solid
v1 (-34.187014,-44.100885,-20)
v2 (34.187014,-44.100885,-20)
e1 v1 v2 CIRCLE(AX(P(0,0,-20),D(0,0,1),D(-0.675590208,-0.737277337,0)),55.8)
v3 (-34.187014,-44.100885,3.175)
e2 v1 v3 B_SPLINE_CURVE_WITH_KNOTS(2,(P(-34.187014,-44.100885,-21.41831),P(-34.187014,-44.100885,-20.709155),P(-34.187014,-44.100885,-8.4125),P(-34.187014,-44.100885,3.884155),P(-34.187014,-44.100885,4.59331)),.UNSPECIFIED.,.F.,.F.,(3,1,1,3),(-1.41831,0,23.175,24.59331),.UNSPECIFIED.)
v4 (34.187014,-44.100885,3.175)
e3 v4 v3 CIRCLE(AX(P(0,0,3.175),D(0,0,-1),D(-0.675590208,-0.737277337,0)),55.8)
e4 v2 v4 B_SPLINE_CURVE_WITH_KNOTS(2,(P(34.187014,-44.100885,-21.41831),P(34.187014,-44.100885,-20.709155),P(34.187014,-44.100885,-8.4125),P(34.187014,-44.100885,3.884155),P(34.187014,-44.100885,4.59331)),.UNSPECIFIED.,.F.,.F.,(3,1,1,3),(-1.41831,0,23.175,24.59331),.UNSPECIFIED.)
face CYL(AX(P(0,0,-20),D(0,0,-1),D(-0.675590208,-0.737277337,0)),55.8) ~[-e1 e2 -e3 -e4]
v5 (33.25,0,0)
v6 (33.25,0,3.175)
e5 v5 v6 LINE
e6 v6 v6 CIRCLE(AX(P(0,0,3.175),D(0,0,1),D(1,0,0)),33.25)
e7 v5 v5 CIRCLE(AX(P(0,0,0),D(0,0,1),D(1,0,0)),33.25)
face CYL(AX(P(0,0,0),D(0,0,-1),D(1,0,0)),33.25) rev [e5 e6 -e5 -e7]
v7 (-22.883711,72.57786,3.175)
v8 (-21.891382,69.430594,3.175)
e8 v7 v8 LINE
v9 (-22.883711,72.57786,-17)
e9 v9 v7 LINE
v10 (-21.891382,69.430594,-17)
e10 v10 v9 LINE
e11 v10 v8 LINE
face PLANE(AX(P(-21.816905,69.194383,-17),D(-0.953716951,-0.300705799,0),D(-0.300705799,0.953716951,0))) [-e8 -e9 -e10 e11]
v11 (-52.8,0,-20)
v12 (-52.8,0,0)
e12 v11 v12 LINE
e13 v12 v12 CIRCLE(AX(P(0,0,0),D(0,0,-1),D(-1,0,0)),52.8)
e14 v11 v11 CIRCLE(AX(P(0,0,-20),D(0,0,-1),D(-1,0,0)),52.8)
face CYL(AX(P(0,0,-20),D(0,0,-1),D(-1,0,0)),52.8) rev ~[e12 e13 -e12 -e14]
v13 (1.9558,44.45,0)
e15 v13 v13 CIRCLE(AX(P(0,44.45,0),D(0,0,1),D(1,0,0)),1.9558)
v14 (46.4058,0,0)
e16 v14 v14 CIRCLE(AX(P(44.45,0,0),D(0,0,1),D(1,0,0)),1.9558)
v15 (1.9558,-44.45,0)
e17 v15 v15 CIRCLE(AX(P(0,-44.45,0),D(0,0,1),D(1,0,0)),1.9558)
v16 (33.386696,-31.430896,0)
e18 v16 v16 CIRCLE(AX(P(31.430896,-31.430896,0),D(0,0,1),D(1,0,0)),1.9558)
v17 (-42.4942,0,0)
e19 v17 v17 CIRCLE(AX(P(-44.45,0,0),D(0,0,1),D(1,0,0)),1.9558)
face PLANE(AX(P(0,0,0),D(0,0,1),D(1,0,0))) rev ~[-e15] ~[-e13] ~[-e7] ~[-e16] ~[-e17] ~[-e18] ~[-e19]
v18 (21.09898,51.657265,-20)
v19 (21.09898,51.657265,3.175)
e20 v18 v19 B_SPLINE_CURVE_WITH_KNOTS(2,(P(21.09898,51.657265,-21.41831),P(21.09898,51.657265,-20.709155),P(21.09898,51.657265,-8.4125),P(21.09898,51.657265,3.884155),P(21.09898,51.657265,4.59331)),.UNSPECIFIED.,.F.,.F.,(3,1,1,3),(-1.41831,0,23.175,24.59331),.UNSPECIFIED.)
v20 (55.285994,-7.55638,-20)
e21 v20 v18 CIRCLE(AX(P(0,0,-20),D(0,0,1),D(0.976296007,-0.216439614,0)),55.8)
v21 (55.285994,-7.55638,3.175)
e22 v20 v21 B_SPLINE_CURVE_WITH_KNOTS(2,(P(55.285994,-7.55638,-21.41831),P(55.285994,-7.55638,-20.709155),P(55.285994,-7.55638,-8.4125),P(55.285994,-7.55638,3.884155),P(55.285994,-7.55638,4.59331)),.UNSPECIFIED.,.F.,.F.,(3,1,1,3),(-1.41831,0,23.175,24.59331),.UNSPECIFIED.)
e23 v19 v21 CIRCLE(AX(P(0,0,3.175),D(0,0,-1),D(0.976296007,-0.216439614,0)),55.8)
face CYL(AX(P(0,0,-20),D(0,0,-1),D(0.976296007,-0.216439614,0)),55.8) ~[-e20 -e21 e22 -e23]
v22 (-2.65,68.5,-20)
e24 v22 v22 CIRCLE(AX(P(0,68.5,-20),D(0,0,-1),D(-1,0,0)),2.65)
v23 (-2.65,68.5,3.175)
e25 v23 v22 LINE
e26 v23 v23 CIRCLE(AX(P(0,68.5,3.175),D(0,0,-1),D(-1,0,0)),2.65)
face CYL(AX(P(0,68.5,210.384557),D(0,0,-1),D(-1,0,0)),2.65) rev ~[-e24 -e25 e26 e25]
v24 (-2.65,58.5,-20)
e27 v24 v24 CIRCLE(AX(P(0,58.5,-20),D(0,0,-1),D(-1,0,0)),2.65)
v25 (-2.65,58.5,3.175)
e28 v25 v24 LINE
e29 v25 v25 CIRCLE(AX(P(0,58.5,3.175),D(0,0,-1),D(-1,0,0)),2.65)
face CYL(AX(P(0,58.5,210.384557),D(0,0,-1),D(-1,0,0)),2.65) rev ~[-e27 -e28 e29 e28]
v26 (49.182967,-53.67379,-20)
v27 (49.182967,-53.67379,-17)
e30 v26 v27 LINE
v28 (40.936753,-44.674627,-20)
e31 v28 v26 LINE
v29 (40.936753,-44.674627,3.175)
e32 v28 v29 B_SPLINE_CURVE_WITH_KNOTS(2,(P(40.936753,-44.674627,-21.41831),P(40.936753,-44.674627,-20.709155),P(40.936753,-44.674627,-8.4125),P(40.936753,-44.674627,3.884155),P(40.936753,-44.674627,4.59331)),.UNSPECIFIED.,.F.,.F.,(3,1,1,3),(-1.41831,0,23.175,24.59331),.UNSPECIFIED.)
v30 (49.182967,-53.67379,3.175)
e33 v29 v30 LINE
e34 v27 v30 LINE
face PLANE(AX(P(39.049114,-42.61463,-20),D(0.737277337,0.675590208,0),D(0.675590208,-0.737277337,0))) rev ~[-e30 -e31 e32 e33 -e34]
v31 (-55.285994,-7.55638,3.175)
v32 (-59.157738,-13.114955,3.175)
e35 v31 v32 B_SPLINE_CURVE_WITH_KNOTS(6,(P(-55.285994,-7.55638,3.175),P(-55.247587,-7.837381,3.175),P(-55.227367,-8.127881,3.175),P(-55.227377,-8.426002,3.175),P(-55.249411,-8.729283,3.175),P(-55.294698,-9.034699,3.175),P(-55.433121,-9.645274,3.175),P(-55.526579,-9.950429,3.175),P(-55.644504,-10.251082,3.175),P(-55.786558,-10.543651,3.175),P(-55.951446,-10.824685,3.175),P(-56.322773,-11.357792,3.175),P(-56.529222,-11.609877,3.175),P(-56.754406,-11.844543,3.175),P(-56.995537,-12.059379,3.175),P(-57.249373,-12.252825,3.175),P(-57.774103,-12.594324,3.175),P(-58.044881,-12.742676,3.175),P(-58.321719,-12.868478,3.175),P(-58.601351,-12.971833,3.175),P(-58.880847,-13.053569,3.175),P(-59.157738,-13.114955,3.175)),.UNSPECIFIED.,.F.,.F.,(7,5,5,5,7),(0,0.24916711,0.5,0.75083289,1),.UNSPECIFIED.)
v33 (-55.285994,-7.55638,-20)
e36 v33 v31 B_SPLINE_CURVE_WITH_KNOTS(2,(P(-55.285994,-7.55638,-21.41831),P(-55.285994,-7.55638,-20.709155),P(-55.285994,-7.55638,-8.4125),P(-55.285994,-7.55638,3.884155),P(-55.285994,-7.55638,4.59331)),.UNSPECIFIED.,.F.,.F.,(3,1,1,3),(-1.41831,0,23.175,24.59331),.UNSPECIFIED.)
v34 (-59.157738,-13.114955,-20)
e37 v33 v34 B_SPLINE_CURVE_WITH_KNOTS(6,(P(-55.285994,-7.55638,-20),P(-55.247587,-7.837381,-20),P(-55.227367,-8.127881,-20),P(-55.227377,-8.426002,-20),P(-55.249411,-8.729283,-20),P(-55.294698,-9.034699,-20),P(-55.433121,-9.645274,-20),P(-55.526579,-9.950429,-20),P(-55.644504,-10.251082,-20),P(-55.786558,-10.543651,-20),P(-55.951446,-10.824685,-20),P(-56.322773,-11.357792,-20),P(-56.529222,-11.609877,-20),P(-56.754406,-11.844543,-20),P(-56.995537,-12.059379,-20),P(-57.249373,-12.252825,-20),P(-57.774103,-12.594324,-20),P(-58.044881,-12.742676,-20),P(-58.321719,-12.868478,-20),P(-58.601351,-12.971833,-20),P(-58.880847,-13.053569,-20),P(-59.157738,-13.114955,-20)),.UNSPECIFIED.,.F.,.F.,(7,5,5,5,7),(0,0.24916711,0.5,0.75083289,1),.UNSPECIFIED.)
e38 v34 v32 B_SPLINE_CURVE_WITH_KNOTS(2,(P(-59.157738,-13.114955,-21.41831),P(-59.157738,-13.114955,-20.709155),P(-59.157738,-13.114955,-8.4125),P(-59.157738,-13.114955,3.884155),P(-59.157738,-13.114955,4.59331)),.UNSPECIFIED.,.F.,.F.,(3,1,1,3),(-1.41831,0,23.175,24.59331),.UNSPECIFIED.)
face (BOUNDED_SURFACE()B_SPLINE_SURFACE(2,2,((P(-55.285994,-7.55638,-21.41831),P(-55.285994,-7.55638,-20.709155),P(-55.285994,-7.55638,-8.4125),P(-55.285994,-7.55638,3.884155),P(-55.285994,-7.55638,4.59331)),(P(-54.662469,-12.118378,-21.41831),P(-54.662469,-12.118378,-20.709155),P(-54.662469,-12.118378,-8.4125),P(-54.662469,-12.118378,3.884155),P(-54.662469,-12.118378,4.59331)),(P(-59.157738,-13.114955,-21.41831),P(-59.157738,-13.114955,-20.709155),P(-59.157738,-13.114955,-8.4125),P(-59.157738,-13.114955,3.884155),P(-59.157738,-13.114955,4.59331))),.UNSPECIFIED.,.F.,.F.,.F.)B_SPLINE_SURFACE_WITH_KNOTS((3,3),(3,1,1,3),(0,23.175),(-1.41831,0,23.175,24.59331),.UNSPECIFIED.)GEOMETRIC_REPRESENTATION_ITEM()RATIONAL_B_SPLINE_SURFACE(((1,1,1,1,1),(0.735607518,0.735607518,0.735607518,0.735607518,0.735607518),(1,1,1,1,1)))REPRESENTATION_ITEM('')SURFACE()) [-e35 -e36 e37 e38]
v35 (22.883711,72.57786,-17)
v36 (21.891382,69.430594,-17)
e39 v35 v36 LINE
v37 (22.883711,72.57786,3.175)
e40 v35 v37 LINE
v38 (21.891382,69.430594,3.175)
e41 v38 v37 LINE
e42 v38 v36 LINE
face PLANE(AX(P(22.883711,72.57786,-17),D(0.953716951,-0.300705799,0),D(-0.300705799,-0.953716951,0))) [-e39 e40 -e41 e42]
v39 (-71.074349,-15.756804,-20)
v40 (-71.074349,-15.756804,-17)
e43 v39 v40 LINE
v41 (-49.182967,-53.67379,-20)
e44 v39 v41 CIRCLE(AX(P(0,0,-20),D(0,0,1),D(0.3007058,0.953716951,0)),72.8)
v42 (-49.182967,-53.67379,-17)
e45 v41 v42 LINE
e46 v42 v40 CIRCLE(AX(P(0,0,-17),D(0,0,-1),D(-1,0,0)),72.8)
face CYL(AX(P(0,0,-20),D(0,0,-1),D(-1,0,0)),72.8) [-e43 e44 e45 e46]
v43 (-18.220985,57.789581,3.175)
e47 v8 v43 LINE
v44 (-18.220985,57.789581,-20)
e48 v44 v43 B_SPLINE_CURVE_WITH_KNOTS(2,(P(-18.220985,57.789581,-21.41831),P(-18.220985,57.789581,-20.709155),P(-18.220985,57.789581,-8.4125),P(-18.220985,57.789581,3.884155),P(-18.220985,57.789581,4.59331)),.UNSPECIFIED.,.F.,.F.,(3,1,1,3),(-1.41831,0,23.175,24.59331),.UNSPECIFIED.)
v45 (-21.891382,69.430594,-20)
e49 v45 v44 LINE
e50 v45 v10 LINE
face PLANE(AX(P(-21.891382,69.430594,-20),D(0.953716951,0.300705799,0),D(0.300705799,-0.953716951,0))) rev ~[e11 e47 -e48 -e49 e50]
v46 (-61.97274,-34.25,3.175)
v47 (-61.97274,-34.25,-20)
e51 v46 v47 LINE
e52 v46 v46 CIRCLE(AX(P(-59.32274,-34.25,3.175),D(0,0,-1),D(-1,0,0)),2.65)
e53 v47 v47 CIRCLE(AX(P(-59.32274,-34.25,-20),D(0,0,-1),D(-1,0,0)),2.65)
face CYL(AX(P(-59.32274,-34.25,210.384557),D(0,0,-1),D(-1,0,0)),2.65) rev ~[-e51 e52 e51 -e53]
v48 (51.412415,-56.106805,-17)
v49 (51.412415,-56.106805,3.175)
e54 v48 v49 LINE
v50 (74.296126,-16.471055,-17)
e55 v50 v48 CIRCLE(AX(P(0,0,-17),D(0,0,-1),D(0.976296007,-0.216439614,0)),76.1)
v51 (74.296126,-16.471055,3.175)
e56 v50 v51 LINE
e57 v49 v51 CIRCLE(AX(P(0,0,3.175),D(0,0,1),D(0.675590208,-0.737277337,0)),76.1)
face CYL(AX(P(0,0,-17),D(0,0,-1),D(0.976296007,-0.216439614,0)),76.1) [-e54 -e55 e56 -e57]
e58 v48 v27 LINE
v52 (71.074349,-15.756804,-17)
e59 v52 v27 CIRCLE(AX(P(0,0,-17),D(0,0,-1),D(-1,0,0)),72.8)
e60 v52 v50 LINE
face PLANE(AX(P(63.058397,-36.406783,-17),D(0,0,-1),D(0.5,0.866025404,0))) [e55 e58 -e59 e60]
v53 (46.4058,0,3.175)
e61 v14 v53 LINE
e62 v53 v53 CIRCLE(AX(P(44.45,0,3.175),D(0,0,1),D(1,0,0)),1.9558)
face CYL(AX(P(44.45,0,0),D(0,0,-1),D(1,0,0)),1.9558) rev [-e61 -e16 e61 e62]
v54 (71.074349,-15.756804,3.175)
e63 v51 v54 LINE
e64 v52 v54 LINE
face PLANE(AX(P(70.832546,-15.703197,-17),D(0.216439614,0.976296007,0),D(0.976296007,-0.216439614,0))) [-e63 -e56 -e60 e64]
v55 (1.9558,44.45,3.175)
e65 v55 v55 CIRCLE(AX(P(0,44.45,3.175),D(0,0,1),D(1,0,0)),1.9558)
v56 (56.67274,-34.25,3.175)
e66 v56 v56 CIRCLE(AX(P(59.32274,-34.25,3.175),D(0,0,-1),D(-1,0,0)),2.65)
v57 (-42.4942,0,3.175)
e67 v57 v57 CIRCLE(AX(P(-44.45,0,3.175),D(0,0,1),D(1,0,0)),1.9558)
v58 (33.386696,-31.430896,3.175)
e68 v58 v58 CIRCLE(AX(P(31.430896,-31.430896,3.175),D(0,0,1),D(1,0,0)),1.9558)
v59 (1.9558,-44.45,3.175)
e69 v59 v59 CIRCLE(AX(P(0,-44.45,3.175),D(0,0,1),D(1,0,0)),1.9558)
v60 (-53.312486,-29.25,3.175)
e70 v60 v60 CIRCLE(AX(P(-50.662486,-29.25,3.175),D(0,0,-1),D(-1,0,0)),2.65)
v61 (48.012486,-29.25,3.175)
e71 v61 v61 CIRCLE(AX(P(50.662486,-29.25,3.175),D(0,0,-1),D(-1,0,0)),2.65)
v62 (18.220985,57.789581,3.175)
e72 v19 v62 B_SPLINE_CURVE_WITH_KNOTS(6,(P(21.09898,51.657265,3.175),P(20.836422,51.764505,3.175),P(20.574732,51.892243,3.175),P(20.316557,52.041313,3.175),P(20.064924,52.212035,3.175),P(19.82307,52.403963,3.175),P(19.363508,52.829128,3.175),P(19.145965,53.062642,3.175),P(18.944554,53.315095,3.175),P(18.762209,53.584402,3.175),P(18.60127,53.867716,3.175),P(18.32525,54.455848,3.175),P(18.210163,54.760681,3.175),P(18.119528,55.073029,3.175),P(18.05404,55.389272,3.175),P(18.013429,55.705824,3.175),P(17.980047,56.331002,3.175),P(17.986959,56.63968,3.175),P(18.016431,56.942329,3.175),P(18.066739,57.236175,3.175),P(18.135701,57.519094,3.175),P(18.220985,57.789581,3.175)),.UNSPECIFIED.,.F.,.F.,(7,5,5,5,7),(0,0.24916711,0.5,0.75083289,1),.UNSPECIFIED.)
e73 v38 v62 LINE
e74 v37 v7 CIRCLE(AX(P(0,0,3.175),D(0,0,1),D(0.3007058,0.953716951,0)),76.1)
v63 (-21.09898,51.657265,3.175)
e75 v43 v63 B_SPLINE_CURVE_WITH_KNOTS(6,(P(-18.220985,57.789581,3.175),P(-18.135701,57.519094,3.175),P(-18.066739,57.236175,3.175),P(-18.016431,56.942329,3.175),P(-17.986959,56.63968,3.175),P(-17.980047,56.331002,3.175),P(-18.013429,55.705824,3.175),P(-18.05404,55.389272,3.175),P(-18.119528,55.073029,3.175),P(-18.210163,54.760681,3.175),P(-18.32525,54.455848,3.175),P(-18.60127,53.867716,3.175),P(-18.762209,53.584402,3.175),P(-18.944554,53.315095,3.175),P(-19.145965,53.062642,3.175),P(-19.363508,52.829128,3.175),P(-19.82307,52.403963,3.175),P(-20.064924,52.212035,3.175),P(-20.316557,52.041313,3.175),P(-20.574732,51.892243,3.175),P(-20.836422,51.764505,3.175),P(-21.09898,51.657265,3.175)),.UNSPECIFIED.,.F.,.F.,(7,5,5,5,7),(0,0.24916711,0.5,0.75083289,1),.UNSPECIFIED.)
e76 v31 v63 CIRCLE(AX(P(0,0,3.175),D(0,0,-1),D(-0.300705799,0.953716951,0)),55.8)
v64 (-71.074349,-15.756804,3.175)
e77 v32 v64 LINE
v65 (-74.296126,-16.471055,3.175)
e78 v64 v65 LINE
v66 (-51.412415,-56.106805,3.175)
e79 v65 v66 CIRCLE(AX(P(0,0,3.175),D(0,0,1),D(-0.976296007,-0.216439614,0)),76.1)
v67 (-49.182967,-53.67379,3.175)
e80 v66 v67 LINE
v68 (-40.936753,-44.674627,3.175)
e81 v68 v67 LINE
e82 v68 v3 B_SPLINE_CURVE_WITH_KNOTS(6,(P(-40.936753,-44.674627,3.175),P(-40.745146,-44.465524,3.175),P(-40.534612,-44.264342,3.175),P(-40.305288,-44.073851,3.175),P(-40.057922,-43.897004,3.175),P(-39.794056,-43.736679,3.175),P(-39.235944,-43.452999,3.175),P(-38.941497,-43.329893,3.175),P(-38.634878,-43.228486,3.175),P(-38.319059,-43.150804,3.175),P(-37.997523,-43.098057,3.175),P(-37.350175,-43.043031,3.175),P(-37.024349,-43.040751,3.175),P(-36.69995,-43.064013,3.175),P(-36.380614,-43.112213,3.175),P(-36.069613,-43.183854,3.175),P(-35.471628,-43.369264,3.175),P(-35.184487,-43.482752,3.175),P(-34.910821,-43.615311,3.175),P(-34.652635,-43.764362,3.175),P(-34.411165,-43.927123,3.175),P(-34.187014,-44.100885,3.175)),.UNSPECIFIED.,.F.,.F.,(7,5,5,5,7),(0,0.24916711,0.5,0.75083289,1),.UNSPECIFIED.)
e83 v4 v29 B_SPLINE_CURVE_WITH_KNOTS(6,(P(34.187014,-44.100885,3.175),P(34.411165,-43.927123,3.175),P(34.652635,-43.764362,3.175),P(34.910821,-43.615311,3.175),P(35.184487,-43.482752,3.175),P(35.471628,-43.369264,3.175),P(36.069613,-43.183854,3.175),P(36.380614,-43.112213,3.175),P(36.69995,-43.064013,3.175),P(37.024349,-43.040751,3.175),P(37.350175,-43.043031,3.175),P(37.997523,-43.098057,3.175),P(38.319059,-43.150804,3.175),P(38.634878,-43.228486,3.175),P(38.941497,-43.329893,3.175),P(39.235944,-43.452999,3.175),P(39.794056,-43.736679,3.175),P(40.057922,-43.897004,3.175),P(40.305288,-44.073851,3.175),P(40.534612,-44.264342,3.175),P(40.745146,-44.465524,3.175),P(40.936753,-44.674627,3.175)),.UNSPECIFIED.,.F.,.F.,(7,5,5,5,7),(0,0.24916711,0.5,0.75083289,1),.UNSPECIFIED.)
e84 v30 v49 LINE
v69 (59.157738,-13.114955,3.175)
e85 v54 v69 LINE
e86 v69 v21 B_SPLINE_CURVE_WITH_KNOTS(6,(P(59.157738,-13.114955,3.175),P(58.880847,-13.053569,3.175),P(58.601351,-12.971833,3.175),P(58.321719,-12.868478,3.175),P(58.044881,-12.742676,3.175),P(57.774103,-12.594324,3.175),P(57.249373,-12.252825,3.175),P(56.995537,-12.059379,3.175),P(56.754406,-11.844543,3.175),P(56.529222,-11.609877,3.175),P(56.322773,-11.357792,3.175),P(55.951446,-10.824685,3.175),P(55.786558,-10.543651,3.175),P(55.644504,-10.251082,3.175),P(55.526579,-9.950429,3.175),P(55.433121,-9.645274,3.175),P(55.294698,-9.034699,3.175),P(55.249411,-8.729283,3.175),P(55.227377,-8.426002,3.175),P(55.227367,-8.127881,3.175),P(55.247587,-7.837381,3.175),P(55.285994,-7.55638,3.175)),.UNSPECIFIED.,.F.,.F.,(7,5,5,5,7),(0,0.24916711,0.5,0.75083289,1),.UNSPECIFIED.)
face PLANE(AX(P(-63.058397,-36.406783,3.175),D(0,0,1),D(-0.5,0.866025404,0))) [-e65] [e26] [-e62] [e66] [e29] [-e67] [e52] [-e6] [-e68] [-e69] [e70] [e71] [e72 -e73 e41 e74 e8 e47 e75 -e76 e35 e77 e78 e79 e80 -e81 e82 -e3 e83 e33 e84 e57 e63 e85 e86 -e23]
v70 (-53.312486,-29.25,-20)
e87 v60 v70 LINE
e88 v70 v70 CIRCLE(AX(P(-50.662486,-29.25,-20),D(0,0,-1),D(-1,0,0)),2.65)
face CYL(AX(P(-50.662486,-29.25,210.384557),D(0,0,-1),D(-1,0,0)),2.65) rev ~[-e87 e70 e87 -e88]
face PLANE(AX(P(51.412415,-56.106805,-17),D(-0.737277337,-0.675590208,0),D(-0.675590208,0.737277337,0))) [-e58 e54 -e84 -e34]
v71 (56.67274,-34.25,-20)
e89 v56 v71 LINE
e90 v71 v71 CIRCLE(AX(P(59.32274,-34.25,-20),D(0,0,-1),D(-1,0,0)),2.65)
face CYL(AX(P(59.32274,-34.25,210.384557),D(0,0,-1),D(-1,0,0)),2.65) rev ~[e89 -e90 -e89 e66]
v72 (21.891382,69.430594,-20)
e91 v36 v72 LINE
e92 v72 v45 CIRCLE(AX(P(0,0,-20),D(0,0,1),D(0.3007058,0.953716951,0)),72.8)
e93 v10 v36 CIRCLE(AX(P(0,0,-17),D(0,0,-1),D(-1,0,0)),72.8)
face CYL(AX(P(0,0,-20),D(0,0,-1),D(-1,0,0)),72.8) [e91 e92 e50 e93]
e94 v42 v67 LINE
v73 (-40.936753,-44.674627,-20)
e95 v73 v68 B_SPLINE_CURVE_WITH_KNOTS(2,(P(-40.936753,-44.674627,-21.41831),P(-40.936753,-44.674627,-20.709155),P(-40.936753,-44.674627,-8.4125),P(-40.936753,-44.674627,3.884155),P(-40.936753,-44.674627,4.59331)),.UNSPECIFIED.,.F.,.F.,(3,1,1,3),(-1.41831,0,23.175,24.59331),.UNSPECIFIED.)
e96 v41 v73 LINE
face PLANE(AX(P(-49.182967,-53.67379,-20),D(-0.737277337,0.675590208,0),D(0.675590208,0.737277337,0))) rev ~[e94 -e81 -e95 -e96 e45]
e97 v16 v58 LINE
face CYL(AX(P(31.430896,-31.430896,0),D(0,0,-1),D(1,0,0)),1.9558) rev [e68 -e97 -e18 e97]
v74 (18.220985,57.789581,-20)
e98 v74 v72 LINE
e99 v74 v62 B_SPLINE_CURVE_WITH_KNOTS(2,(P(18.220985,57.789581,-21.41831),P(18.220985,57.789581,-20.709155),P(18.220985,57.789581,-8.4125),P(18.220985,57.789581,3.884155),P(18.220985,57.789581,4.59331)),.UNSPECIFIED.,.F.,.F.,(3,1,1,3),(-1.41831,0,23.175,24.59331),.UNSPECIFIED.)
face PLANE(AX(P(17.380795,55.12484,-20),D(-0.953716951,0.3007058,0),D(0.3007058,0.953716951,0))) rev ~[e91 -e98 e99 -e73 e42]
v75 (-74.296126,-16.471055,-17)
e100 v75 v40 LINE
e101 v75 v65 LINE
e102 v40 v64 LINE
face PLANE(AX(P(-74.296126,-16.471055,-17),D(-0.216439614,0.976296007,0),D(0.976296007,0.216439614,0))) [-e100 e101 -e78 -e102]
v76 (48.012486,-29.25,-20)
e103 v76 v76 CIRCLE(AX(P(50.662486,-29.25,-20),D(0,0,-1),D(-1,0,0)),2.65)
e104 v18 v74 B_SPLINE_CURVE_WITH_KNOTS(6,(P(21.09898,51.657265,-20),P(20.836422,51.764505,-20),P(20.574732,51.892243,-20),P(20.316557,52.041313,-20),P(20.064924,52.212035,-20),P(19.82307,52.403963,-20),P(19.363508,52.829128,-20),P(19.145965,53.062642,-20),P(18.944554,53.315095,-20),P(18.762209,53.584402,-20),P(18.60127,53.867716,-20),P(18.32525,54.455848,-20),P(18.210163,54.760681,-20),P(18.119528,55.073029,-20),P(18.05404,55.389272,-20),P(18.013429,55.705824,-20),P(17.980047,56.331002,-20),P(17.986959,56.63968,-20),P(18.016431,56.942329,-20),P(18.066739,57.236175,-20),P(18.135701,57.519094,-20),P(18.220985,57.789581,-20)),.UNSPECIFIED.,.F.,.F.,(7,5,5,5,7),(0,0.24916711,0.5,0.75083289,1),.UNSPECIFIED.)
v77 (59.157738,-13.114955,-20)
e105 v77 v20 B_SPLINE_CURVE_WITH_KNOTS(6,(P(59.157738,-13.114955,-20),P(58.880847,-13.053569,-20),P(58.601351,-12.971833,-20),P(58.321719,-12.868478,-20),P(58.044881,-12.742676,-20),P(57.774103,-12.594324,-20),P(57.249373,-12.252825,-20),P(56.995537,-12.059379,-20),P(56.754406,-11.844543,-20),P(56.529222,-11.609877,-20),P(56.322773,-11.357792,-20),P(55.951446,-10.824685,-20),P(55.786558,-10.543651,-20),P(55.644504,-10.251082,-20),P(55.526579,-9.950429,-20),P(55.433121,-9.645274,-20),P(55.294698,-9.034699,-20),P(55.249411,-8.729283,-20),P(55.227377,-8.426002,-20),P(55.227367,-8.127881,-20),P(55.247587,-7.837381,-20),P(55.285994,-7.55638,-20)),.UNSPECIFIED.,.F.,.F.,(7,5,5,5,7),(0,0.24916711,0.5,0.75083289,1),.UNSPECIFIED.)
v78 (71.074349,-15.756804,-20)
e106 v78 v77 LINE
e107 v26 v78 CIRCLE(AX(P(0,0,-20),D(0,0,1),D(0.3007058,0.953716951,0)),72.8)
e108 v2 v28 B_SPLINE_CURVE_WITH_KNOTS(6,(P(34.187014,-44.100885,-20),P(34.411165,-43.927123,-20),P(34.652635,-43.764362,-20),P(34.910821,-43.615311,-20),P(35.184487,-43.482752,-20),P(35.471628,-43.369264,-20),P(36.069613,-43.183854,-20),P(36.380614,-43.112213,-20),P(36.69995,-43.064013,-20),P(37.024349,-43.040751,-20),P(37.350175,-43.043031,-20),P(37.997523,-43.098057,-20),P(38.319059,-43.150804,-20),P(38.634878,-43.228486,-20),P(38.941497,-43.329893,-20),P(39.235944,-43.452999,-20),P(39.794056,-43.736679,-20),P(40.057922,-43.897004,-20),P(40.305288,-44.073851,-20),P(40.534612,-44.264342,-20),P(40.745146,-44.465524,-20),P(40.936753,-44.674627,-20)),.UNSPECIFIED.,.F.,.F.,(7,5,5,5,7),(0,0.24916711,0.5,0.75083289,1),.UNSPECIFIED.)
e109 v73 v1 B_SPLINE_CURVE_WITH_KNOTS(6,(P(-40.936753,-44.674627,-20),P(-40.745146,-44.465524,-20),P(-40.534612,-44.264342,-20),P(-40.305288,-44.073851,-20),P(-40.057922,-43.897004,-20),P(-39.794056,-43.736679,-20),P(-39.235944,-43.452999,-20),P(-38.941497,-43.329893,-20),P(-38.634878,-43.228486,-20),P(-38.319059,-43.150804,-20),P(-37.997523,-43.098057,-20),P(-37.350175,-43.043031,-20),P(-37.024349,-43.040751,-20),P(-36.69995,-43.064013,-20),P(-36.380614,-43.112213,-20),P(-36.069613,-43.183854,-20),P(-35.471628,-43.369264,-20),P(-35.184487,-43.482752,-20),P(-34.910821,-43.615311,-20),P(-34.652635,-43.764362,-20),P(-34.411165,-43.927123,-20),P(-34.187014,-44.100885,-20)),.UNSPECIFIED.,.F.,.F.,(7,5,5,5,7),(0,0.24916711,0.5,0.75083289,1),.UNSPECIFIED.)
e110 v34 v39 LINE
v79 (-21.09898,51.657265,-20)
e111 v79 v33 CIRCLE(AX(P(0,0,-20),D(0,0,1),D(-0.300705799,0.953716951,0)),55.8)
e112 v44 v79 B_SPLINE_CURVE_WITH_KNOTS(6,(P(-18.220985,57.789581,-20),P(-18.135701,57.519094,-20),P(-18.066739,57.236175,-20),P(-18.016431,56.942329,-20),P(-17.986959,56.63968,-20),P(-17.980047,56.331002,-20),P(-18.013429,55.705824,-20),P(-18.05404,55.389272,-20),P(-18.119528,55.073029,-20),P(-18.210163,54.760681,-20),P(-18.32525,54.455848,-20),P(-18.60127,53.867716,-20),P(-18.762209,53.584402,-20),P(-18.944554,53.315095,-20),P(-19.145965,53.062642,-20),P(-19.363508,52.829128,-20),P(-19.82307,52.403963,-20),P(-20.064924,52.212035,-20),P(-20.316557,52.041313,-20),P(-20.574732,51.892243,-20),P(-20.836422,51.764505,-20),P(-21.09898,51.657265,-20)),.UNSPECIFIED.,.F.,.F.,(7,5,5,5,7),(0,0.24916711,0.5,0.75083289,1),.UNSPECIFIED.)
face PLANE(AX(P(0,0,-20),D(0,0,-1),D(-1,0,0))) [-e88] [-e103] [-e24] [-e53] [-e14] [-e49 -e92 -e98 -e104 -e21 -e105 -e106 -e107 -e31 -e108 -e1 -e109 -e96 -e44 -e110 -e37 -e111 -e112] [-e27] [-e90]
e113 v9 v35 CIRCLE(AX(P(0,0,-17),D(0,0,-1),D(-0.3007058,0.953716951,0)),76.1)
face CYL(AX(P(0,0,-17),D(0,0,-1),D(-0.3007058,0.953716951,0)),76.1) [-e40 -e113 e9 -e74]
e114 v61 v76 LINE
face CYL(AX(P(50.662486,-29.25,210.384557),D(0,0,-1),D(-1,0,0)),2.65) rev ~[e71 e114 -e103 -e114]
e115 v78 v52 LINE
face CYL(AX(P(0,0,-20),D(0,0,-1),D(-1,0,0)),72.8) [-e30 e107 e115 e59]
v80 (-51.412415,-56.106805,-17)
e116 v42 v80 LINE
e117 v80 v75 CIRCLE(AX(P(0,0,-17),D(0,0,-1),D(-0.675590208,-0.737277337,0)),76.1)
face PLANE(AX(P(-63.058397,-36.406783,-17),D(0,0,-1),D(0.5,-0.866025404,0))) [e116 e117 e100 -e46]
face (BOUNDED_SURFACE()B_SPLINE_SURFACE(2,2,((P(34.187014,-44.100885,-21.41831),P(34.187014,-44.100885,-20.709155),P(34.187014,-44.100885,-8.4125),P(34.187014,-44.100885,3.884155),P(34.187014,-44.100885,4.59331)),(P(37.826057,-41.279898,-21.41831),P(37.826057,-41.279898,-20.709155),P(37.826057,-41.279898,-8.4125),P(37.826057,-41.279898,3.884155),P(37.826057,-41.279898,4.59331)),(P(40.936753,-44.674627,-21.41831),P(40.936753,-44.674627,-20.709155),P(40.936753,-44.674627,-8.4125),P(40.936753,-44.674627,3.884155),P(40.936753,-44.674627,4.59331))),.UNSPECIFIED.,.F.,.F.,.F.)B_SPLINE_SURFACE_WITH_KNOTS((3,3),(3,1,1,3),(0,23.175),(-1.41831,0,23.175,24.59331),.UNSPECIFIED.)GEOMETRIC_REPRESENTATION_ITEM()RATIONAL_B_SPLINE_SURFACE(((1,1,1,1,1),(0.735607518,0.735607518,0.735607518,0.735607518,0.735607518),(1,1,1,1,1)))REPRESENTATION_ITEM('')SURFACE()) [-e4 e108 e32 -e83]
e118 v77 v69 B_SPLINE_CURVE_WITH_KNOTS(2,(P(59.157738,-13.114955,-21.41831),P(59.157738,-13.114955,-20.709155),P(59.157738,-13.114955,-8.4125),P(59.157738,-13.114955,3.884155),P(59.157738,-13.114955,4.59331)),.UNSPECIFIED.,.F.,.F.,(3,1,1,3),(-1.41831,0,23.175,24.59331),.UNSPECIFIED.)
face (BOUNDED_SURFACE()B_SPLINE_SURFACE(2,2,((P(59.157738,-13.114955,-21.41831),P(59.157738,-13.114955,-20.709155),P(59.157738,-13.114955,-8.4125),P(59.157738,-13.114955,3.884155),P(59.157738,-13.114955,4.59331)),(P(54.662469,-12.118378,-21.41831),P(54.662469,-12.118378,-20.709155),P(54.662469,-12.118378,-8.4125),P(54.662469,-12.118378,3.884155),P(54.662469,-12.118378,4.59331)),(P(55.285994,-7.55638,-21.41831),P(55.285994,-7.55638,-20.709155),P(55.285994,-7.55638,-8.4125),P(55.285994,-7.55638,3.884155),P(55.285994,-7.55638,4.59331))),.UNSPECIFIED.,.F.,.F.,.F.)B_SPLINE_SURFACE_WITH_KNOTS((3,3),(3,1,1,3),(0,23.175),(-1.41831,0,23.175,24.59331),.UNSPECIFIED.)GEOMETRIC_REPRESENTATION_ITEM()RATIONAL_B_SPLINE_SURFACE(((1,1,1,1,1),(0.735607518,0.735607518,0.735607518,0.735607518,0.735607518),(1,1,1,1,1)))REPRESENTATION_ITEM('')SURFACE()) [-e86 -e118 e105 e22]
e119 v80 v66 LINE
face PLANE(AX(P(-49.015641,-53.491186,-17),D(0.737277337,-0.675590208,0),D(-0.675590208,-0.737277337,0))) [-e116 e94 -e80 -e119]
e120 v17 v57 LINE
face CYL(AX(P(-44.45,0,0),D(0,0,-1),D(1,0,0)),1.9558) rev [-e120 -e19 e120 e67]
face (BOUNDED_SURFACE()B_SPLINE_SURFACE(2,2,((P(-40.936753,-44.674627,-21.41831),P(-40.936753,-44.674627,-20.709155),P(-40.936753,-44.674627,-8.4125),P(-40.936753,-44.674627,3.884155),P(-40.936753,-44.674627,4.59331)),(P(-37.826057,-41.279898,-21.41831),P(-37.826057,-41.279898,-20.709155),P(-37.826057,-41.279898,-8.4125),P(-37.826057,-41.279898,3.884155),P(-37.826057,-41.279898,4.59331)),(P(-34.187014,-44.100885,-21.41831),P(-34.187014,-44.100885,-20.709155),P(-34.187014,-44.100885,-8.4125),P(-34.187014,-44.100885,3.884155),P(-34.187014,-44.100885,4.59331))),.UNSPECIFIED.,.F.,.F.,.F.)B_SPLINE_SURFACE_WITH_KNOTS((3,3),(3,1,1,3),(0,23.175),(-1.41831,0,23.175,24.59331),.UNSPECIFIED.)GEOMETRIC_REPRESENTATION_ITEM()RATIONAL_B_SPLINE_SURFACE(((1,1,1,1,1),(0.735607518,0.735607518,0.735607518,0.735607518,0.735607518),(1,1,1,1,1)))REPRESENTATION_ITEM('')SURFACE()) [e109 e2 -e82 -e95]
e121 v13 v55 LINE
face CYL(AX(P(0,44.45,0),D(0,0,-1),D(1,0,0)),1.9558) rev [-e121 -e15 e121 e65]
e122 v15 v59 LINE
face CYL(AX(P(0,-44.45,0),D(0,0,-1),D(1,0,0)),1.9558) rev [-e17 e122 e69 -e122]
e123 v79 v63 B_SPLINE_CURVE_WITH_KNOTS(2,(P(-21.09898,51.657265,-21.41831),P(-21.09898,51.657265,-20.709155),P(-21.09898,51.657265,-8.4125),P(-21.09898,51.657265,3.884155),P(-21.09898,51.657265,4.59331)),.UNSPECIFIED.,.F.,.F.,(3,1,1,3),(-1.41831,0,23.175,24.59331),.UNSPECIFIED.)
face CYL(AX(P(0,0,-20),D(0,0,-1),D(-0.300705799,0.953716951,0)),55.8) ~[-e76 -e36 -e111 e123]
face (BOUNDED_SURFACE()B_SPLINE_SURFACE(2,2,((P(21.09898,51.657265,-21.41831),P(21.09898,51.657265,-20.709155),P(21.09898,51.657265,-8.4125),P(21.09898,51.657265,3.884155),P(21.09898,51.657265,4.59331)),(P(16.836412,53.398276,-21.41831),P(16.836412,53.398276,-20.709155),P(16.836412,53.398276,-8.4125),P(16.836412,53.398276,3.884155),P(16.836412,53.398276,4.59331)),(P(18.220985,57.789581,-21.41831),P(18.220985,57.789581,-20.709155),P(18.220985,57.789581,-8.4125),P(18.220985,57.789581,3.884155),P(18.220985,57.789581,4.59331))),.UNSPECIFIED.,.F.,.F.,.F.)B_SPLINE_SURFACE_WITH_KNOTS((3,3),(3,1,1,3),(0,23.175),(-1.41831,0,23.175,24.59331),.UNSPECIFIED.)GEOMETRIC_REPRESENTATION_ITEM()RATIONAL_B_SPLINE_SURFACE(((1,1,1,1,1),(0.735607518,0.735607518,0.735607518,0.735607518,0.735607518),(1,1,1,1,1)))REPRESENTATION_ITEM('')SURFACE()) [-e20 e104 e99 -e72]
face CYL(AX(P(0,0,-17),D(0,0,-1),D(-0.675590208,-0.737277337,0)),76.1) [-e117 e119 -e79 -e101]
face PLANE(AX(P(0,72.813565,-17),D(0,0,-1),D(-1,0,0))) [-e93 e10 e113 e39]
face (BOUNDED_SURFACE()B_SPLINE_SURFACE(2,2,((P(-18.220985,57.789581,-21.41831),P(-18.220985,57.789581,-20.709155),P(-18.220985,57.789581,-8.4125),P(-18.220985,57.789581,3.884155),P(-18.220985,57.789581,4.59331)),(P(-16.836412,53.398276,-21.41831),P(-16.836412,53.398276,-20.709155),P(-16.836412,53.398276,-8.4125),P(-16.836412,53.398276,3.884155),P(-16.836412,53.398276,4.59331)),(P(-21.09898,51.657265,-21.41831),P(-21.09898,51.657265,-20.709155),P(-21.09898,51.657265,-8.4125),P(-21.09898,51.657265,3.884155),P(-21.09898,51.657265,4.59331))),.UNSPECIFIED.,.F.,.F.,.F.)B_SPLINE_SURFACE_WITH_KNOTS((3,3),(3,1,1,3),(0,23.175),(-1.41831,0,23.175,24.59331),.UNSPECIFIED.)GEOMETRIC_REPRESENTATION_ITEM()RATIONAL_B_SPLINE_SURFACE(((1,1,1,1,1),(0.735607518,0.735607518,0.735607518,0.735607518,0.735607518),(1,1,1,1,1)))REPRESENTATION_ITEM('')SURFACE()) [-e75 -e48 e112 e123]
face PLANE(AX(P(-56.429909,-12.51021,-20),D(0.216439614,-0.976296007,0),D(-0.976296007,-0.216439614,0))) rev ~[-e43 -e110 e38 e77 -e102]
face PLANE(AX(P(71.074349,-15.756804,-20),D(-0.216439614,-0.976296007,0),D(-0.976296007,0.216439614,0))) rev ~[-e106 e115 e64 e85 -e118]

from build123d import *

# Parameters (mm, degrees)
SKETCH1_R                = 72.8
SKETCH1_R_2              = 2.065
SKETCH1_R_3              = 1.9558
SKETCH1_R_4              = 33.25
BOSS_EXTRUDE1_DEPTH      = 3.175
BOSS_EXTRUDE4_START      = 20
SKETCH14_R               = 72.8
SKETCH14_R_2             = 52.8
BOSS_EXTRUDE4_DEPTH      = 20
SKETCH15_R               = 2.065
CUT_EXTRUDE6_DEPTH       = 106.530851532
M5_CLEARANCE_HOLE1_D     = 5.3
CUT_EXTRUDE8_DEPTH       = 106.530851532
FILLET1_R                = 5
CIRPATTERN4_COUNT        = 3
FILLET1_OF_CIRPATTERN4_R = 5
BOSS_EXTRUDE8_START      = -20.175
BOSS_EXTRUDE8_DEPTH      = 30.175
CUT_EXTRUDE9_START       = -10
CUT_EXTRUDE9_DEPTH       = 10
CIRPATTERN5_COUNT        = 3


with BuildPart() as part:
    # Sketch1 → Boss-Extrude1 (new body)
    with BuildSketch(Plane.XY):
        Circle(SKETCH1_R)
        with Locations((50.662486121, -29.25)):
            Circle(SKETCH1_R_2, mode=Mode.SUBTRACT)
        with Locations((59.322740159, -34.25)):
            Circle(SKETCH1_R_2, mode=Mode.SUBTRACT)
        with Locations((-59.322740159, -34.25)):
            Circle(SKETCH1_R_2, mode=Mode.SUBTRACT)
        with Locations((-50.662486121, -29.25)):
            Circle(SKETCH1_R_2, mode=Mode.SUBTRACT)
        with Locations((0, 44.45)):
            Circle(SKETCH1_R_3, mode=Mode.SUBTRACT)
        with Locations((-44.45, 0)):
            Circle(SKETCH1_R_3, mode=Mode.SUBTRACT)
        with Locations((0, -44.45)):
            Circle(SKETCH1_R_3, mode=Mode.SUBTRACT)
        with Locations((31.430896424, -31.430896424)):
            Circle(SKETCH1_R_3, mode=Mode.SUBTRACT)
        with Locations((44.45, 0)):
            Circle(SKETCH1_R_3, mode=Mode.SUBTRACT)
        with Locations((0, 68.5)):
            Circle(SKETCH1_R_2, mode=Mode.SUBTRACT)
        with Locations((0, 58.5)):
            Circle(SKETCH1_R_2, mode=Mode.SUBTRACT)
        Circle(SKETCH1_R_4, mode=Mode.SUBTRACT)
    extrude(amount=BOSS_EXTRUDE1_DEPTH)

    # Sketch14 → Boss-Extrude4 (add)
    with BuildSketch(Plane(origin=(0, 0, 0), x_dir=(-1, 0, 0), z_dir=(0, 0, -1)).offset(BOSS_EXTRUDE4_START)):
        Circle(SKETCH14_R)
        Circle(SKETCH14_R_2, mode=Mode.SUBTRACT)
    extrude(amount=-BOSS_EXTRUDE4_DEPTH)

    # Sketch15 → Cut-Extrude6 (cut, through all)
    with BuildSketch(Plane.XY.offset(3.175)):
        with Locations((-59.322740159, -34.25)):
            Circle(SKETCH15_R)
        with Locations((-50.662486121, -29.25)):
            Circle(SKETCH15_R)
        with Locations((59.322740159, -34.25)):
            Circle(SKETCH15_R)
        with Locations((50.662486121, -29.25)):
            Circle(SKETCH15_R)
        with Locations((0, 58.5)):
            Circle(SKETCH15_R)
        with Locations((0, 68.5)):
            Circle(SKETCH15_R)
    extrude(amount=-CUT_EXTRUDE6_DEPTH, mode=Mode.SUBTRACT)

    # M5 Clearance Hole1 (through all)
    with Locations(Plane.XY.offset(3.175)):
        with Locations((0, 58.5), (0, 68.5), (50.662486121, -29.25), (59.322740159, -34.25), (-59.322740159, -34.25), (-50.662486121, -29.25)):
            Hole(M5_CLEARANCE_HOLE1_D / 2)

    # Sketch30 → Cut-Extrude8 (cut, through all)
    with BuildSketch(Plane(origin=(0, 0, -20), x_dir=(-1, 0, 0), z_dir=(0, 0, -1))):
        with BuildLine():
            ThreePointArc((-21.891382204, 69.430594014), (-63.046649396, 36.4), (-71.074349318, -15.756803895))
            Line((-71.074349318, -15.756803895), (-56.429909212, -12.510209686))
            Line((-56.429909212, -12.510209686), (-54.477317197, -12.077330458))
            ThreePointArc((-54.477317197, -12.077330458), (-48.324217531, 27.9), (-16.779383612, 53.217405852))
            Line((-16.779383612, 53.217405852), (-17.380795211, 55.124839753))
            Line((-17.380795211, 55.124839753), (-21.891382204, 69.430594014))
        make_face()
    cut_extrude8 = extrude(amount=-CUT_EXTRUDE8_DEPTH, mode=Mode.SUBTRACT)

    # Fillet1
    fillet1_edges = [part.edges().sort_by_distance(p)[0] for p in [
        (54.477317197, -12.077330458, -8.4125),
        (16.779383612, 53.217405852, -8.4125),
    ]]
    fillet(fillet1_edges, radius=FILLET1_R)

    # CirPattern4: Cut-Extrude8 ×3 about axis
    cirpattern4_axis = Axis((0, 0, 0), (0, 0, 1))
    for i in range(1, CIRPATTERN4_COUNT):
        add(cut_extrude8.rotate(cirpattern4_axis, i * 360 / CIRPATTERN4_COUNT), mode=Mode.SUBTRACT)

    # Fillet1 of CirPattern4
    fillet1_of_cirpattern4_edges = [part.edges().sort_by_distance(p)[0] for p in [
        (-16.779383612, 53.217405852, -8.4125),
        (-54.477317197, -12.077330458, -8.4125),
        (-37.697933585, -41.140075394, -8.4125),
        (37.697933585, -41.140075394, -8.4125),
    ]]
    fillet(fillet1_of_cirpattern4_edges, radius=FILLET1_OF_CIRPATTERN4_R)

    # Sketch31 → Boss-Extrude8 (add)
    with BuildSketch(Plane.XY.offset(3.175).offset(BOSS_EXTRUDE8_START)):
        with BuildLine():
            Line((21.891382204, 69.430594014), (21.816905179, 69.19438307))
            ThreePointArc((21.816905179, 69.19438307), (0, 72.552325945), (-21.816905179, 69.19438307))
            Line((-21.816905179, 69.19438307), (-22.883711342, 72.577859952))
            ThreePointArc((-22.883711342, 72.577859952), (0, 76.1), (22.883711342, 72.577859952))
            Line((22.883711342, 72.577859952), (21.891382204, 69.430594014))
        make_face()
    boss_extrude8 = extrude(amount=BOSS_EXTRUDE8_DEPTH)

    # Sketch32 → Cut-Extrude9 (cut)
    with BuildSketch(Plane.XY.offset(13.175).offset(CUT_EXTRUDE9_START)):
        with BuildLine():
            Line((21.816905179, 69.19438307), (22.883711342, 72.577859952))
            ThreePointArc((22.883711342, 72.577859952), (0, 76.1), (-22.883711342, 72.577859952))
            Line((-22.883711342, 72.577859952), (-21.816905179, 69.19438307))
            ThreePointArc((-21.816905179, 69.19438307), (0, 72.552325945), (21.816905179, 69.19438307))
        make_face()
    cut_extrude9 = extrude(amount=CUT_EXTRUDE9_DEPTH, mode=Mode.SUBTRACT)

    # CirPattern5: Boss-Extrude8, Cut-Extrude9 ×3 about axis
    cirpattern5_axis = Axis((0, 0, 0), (0, 0, 1))
    add([boss_extrude8.rotate(cirpattern5_axis, i * 360 / CIRPATTERN5_COUNT) for i in range(1, CIRPATTERN5_COUNT)])
    add([cut_extrude9.rotate(cirpattern5_axis, i * 360 / CIRPATTERN5_COUNT) for i in range(1, CIRPATTERN5_COUNT)], mode=Mode.SUBTRACT)


solid = part.part
